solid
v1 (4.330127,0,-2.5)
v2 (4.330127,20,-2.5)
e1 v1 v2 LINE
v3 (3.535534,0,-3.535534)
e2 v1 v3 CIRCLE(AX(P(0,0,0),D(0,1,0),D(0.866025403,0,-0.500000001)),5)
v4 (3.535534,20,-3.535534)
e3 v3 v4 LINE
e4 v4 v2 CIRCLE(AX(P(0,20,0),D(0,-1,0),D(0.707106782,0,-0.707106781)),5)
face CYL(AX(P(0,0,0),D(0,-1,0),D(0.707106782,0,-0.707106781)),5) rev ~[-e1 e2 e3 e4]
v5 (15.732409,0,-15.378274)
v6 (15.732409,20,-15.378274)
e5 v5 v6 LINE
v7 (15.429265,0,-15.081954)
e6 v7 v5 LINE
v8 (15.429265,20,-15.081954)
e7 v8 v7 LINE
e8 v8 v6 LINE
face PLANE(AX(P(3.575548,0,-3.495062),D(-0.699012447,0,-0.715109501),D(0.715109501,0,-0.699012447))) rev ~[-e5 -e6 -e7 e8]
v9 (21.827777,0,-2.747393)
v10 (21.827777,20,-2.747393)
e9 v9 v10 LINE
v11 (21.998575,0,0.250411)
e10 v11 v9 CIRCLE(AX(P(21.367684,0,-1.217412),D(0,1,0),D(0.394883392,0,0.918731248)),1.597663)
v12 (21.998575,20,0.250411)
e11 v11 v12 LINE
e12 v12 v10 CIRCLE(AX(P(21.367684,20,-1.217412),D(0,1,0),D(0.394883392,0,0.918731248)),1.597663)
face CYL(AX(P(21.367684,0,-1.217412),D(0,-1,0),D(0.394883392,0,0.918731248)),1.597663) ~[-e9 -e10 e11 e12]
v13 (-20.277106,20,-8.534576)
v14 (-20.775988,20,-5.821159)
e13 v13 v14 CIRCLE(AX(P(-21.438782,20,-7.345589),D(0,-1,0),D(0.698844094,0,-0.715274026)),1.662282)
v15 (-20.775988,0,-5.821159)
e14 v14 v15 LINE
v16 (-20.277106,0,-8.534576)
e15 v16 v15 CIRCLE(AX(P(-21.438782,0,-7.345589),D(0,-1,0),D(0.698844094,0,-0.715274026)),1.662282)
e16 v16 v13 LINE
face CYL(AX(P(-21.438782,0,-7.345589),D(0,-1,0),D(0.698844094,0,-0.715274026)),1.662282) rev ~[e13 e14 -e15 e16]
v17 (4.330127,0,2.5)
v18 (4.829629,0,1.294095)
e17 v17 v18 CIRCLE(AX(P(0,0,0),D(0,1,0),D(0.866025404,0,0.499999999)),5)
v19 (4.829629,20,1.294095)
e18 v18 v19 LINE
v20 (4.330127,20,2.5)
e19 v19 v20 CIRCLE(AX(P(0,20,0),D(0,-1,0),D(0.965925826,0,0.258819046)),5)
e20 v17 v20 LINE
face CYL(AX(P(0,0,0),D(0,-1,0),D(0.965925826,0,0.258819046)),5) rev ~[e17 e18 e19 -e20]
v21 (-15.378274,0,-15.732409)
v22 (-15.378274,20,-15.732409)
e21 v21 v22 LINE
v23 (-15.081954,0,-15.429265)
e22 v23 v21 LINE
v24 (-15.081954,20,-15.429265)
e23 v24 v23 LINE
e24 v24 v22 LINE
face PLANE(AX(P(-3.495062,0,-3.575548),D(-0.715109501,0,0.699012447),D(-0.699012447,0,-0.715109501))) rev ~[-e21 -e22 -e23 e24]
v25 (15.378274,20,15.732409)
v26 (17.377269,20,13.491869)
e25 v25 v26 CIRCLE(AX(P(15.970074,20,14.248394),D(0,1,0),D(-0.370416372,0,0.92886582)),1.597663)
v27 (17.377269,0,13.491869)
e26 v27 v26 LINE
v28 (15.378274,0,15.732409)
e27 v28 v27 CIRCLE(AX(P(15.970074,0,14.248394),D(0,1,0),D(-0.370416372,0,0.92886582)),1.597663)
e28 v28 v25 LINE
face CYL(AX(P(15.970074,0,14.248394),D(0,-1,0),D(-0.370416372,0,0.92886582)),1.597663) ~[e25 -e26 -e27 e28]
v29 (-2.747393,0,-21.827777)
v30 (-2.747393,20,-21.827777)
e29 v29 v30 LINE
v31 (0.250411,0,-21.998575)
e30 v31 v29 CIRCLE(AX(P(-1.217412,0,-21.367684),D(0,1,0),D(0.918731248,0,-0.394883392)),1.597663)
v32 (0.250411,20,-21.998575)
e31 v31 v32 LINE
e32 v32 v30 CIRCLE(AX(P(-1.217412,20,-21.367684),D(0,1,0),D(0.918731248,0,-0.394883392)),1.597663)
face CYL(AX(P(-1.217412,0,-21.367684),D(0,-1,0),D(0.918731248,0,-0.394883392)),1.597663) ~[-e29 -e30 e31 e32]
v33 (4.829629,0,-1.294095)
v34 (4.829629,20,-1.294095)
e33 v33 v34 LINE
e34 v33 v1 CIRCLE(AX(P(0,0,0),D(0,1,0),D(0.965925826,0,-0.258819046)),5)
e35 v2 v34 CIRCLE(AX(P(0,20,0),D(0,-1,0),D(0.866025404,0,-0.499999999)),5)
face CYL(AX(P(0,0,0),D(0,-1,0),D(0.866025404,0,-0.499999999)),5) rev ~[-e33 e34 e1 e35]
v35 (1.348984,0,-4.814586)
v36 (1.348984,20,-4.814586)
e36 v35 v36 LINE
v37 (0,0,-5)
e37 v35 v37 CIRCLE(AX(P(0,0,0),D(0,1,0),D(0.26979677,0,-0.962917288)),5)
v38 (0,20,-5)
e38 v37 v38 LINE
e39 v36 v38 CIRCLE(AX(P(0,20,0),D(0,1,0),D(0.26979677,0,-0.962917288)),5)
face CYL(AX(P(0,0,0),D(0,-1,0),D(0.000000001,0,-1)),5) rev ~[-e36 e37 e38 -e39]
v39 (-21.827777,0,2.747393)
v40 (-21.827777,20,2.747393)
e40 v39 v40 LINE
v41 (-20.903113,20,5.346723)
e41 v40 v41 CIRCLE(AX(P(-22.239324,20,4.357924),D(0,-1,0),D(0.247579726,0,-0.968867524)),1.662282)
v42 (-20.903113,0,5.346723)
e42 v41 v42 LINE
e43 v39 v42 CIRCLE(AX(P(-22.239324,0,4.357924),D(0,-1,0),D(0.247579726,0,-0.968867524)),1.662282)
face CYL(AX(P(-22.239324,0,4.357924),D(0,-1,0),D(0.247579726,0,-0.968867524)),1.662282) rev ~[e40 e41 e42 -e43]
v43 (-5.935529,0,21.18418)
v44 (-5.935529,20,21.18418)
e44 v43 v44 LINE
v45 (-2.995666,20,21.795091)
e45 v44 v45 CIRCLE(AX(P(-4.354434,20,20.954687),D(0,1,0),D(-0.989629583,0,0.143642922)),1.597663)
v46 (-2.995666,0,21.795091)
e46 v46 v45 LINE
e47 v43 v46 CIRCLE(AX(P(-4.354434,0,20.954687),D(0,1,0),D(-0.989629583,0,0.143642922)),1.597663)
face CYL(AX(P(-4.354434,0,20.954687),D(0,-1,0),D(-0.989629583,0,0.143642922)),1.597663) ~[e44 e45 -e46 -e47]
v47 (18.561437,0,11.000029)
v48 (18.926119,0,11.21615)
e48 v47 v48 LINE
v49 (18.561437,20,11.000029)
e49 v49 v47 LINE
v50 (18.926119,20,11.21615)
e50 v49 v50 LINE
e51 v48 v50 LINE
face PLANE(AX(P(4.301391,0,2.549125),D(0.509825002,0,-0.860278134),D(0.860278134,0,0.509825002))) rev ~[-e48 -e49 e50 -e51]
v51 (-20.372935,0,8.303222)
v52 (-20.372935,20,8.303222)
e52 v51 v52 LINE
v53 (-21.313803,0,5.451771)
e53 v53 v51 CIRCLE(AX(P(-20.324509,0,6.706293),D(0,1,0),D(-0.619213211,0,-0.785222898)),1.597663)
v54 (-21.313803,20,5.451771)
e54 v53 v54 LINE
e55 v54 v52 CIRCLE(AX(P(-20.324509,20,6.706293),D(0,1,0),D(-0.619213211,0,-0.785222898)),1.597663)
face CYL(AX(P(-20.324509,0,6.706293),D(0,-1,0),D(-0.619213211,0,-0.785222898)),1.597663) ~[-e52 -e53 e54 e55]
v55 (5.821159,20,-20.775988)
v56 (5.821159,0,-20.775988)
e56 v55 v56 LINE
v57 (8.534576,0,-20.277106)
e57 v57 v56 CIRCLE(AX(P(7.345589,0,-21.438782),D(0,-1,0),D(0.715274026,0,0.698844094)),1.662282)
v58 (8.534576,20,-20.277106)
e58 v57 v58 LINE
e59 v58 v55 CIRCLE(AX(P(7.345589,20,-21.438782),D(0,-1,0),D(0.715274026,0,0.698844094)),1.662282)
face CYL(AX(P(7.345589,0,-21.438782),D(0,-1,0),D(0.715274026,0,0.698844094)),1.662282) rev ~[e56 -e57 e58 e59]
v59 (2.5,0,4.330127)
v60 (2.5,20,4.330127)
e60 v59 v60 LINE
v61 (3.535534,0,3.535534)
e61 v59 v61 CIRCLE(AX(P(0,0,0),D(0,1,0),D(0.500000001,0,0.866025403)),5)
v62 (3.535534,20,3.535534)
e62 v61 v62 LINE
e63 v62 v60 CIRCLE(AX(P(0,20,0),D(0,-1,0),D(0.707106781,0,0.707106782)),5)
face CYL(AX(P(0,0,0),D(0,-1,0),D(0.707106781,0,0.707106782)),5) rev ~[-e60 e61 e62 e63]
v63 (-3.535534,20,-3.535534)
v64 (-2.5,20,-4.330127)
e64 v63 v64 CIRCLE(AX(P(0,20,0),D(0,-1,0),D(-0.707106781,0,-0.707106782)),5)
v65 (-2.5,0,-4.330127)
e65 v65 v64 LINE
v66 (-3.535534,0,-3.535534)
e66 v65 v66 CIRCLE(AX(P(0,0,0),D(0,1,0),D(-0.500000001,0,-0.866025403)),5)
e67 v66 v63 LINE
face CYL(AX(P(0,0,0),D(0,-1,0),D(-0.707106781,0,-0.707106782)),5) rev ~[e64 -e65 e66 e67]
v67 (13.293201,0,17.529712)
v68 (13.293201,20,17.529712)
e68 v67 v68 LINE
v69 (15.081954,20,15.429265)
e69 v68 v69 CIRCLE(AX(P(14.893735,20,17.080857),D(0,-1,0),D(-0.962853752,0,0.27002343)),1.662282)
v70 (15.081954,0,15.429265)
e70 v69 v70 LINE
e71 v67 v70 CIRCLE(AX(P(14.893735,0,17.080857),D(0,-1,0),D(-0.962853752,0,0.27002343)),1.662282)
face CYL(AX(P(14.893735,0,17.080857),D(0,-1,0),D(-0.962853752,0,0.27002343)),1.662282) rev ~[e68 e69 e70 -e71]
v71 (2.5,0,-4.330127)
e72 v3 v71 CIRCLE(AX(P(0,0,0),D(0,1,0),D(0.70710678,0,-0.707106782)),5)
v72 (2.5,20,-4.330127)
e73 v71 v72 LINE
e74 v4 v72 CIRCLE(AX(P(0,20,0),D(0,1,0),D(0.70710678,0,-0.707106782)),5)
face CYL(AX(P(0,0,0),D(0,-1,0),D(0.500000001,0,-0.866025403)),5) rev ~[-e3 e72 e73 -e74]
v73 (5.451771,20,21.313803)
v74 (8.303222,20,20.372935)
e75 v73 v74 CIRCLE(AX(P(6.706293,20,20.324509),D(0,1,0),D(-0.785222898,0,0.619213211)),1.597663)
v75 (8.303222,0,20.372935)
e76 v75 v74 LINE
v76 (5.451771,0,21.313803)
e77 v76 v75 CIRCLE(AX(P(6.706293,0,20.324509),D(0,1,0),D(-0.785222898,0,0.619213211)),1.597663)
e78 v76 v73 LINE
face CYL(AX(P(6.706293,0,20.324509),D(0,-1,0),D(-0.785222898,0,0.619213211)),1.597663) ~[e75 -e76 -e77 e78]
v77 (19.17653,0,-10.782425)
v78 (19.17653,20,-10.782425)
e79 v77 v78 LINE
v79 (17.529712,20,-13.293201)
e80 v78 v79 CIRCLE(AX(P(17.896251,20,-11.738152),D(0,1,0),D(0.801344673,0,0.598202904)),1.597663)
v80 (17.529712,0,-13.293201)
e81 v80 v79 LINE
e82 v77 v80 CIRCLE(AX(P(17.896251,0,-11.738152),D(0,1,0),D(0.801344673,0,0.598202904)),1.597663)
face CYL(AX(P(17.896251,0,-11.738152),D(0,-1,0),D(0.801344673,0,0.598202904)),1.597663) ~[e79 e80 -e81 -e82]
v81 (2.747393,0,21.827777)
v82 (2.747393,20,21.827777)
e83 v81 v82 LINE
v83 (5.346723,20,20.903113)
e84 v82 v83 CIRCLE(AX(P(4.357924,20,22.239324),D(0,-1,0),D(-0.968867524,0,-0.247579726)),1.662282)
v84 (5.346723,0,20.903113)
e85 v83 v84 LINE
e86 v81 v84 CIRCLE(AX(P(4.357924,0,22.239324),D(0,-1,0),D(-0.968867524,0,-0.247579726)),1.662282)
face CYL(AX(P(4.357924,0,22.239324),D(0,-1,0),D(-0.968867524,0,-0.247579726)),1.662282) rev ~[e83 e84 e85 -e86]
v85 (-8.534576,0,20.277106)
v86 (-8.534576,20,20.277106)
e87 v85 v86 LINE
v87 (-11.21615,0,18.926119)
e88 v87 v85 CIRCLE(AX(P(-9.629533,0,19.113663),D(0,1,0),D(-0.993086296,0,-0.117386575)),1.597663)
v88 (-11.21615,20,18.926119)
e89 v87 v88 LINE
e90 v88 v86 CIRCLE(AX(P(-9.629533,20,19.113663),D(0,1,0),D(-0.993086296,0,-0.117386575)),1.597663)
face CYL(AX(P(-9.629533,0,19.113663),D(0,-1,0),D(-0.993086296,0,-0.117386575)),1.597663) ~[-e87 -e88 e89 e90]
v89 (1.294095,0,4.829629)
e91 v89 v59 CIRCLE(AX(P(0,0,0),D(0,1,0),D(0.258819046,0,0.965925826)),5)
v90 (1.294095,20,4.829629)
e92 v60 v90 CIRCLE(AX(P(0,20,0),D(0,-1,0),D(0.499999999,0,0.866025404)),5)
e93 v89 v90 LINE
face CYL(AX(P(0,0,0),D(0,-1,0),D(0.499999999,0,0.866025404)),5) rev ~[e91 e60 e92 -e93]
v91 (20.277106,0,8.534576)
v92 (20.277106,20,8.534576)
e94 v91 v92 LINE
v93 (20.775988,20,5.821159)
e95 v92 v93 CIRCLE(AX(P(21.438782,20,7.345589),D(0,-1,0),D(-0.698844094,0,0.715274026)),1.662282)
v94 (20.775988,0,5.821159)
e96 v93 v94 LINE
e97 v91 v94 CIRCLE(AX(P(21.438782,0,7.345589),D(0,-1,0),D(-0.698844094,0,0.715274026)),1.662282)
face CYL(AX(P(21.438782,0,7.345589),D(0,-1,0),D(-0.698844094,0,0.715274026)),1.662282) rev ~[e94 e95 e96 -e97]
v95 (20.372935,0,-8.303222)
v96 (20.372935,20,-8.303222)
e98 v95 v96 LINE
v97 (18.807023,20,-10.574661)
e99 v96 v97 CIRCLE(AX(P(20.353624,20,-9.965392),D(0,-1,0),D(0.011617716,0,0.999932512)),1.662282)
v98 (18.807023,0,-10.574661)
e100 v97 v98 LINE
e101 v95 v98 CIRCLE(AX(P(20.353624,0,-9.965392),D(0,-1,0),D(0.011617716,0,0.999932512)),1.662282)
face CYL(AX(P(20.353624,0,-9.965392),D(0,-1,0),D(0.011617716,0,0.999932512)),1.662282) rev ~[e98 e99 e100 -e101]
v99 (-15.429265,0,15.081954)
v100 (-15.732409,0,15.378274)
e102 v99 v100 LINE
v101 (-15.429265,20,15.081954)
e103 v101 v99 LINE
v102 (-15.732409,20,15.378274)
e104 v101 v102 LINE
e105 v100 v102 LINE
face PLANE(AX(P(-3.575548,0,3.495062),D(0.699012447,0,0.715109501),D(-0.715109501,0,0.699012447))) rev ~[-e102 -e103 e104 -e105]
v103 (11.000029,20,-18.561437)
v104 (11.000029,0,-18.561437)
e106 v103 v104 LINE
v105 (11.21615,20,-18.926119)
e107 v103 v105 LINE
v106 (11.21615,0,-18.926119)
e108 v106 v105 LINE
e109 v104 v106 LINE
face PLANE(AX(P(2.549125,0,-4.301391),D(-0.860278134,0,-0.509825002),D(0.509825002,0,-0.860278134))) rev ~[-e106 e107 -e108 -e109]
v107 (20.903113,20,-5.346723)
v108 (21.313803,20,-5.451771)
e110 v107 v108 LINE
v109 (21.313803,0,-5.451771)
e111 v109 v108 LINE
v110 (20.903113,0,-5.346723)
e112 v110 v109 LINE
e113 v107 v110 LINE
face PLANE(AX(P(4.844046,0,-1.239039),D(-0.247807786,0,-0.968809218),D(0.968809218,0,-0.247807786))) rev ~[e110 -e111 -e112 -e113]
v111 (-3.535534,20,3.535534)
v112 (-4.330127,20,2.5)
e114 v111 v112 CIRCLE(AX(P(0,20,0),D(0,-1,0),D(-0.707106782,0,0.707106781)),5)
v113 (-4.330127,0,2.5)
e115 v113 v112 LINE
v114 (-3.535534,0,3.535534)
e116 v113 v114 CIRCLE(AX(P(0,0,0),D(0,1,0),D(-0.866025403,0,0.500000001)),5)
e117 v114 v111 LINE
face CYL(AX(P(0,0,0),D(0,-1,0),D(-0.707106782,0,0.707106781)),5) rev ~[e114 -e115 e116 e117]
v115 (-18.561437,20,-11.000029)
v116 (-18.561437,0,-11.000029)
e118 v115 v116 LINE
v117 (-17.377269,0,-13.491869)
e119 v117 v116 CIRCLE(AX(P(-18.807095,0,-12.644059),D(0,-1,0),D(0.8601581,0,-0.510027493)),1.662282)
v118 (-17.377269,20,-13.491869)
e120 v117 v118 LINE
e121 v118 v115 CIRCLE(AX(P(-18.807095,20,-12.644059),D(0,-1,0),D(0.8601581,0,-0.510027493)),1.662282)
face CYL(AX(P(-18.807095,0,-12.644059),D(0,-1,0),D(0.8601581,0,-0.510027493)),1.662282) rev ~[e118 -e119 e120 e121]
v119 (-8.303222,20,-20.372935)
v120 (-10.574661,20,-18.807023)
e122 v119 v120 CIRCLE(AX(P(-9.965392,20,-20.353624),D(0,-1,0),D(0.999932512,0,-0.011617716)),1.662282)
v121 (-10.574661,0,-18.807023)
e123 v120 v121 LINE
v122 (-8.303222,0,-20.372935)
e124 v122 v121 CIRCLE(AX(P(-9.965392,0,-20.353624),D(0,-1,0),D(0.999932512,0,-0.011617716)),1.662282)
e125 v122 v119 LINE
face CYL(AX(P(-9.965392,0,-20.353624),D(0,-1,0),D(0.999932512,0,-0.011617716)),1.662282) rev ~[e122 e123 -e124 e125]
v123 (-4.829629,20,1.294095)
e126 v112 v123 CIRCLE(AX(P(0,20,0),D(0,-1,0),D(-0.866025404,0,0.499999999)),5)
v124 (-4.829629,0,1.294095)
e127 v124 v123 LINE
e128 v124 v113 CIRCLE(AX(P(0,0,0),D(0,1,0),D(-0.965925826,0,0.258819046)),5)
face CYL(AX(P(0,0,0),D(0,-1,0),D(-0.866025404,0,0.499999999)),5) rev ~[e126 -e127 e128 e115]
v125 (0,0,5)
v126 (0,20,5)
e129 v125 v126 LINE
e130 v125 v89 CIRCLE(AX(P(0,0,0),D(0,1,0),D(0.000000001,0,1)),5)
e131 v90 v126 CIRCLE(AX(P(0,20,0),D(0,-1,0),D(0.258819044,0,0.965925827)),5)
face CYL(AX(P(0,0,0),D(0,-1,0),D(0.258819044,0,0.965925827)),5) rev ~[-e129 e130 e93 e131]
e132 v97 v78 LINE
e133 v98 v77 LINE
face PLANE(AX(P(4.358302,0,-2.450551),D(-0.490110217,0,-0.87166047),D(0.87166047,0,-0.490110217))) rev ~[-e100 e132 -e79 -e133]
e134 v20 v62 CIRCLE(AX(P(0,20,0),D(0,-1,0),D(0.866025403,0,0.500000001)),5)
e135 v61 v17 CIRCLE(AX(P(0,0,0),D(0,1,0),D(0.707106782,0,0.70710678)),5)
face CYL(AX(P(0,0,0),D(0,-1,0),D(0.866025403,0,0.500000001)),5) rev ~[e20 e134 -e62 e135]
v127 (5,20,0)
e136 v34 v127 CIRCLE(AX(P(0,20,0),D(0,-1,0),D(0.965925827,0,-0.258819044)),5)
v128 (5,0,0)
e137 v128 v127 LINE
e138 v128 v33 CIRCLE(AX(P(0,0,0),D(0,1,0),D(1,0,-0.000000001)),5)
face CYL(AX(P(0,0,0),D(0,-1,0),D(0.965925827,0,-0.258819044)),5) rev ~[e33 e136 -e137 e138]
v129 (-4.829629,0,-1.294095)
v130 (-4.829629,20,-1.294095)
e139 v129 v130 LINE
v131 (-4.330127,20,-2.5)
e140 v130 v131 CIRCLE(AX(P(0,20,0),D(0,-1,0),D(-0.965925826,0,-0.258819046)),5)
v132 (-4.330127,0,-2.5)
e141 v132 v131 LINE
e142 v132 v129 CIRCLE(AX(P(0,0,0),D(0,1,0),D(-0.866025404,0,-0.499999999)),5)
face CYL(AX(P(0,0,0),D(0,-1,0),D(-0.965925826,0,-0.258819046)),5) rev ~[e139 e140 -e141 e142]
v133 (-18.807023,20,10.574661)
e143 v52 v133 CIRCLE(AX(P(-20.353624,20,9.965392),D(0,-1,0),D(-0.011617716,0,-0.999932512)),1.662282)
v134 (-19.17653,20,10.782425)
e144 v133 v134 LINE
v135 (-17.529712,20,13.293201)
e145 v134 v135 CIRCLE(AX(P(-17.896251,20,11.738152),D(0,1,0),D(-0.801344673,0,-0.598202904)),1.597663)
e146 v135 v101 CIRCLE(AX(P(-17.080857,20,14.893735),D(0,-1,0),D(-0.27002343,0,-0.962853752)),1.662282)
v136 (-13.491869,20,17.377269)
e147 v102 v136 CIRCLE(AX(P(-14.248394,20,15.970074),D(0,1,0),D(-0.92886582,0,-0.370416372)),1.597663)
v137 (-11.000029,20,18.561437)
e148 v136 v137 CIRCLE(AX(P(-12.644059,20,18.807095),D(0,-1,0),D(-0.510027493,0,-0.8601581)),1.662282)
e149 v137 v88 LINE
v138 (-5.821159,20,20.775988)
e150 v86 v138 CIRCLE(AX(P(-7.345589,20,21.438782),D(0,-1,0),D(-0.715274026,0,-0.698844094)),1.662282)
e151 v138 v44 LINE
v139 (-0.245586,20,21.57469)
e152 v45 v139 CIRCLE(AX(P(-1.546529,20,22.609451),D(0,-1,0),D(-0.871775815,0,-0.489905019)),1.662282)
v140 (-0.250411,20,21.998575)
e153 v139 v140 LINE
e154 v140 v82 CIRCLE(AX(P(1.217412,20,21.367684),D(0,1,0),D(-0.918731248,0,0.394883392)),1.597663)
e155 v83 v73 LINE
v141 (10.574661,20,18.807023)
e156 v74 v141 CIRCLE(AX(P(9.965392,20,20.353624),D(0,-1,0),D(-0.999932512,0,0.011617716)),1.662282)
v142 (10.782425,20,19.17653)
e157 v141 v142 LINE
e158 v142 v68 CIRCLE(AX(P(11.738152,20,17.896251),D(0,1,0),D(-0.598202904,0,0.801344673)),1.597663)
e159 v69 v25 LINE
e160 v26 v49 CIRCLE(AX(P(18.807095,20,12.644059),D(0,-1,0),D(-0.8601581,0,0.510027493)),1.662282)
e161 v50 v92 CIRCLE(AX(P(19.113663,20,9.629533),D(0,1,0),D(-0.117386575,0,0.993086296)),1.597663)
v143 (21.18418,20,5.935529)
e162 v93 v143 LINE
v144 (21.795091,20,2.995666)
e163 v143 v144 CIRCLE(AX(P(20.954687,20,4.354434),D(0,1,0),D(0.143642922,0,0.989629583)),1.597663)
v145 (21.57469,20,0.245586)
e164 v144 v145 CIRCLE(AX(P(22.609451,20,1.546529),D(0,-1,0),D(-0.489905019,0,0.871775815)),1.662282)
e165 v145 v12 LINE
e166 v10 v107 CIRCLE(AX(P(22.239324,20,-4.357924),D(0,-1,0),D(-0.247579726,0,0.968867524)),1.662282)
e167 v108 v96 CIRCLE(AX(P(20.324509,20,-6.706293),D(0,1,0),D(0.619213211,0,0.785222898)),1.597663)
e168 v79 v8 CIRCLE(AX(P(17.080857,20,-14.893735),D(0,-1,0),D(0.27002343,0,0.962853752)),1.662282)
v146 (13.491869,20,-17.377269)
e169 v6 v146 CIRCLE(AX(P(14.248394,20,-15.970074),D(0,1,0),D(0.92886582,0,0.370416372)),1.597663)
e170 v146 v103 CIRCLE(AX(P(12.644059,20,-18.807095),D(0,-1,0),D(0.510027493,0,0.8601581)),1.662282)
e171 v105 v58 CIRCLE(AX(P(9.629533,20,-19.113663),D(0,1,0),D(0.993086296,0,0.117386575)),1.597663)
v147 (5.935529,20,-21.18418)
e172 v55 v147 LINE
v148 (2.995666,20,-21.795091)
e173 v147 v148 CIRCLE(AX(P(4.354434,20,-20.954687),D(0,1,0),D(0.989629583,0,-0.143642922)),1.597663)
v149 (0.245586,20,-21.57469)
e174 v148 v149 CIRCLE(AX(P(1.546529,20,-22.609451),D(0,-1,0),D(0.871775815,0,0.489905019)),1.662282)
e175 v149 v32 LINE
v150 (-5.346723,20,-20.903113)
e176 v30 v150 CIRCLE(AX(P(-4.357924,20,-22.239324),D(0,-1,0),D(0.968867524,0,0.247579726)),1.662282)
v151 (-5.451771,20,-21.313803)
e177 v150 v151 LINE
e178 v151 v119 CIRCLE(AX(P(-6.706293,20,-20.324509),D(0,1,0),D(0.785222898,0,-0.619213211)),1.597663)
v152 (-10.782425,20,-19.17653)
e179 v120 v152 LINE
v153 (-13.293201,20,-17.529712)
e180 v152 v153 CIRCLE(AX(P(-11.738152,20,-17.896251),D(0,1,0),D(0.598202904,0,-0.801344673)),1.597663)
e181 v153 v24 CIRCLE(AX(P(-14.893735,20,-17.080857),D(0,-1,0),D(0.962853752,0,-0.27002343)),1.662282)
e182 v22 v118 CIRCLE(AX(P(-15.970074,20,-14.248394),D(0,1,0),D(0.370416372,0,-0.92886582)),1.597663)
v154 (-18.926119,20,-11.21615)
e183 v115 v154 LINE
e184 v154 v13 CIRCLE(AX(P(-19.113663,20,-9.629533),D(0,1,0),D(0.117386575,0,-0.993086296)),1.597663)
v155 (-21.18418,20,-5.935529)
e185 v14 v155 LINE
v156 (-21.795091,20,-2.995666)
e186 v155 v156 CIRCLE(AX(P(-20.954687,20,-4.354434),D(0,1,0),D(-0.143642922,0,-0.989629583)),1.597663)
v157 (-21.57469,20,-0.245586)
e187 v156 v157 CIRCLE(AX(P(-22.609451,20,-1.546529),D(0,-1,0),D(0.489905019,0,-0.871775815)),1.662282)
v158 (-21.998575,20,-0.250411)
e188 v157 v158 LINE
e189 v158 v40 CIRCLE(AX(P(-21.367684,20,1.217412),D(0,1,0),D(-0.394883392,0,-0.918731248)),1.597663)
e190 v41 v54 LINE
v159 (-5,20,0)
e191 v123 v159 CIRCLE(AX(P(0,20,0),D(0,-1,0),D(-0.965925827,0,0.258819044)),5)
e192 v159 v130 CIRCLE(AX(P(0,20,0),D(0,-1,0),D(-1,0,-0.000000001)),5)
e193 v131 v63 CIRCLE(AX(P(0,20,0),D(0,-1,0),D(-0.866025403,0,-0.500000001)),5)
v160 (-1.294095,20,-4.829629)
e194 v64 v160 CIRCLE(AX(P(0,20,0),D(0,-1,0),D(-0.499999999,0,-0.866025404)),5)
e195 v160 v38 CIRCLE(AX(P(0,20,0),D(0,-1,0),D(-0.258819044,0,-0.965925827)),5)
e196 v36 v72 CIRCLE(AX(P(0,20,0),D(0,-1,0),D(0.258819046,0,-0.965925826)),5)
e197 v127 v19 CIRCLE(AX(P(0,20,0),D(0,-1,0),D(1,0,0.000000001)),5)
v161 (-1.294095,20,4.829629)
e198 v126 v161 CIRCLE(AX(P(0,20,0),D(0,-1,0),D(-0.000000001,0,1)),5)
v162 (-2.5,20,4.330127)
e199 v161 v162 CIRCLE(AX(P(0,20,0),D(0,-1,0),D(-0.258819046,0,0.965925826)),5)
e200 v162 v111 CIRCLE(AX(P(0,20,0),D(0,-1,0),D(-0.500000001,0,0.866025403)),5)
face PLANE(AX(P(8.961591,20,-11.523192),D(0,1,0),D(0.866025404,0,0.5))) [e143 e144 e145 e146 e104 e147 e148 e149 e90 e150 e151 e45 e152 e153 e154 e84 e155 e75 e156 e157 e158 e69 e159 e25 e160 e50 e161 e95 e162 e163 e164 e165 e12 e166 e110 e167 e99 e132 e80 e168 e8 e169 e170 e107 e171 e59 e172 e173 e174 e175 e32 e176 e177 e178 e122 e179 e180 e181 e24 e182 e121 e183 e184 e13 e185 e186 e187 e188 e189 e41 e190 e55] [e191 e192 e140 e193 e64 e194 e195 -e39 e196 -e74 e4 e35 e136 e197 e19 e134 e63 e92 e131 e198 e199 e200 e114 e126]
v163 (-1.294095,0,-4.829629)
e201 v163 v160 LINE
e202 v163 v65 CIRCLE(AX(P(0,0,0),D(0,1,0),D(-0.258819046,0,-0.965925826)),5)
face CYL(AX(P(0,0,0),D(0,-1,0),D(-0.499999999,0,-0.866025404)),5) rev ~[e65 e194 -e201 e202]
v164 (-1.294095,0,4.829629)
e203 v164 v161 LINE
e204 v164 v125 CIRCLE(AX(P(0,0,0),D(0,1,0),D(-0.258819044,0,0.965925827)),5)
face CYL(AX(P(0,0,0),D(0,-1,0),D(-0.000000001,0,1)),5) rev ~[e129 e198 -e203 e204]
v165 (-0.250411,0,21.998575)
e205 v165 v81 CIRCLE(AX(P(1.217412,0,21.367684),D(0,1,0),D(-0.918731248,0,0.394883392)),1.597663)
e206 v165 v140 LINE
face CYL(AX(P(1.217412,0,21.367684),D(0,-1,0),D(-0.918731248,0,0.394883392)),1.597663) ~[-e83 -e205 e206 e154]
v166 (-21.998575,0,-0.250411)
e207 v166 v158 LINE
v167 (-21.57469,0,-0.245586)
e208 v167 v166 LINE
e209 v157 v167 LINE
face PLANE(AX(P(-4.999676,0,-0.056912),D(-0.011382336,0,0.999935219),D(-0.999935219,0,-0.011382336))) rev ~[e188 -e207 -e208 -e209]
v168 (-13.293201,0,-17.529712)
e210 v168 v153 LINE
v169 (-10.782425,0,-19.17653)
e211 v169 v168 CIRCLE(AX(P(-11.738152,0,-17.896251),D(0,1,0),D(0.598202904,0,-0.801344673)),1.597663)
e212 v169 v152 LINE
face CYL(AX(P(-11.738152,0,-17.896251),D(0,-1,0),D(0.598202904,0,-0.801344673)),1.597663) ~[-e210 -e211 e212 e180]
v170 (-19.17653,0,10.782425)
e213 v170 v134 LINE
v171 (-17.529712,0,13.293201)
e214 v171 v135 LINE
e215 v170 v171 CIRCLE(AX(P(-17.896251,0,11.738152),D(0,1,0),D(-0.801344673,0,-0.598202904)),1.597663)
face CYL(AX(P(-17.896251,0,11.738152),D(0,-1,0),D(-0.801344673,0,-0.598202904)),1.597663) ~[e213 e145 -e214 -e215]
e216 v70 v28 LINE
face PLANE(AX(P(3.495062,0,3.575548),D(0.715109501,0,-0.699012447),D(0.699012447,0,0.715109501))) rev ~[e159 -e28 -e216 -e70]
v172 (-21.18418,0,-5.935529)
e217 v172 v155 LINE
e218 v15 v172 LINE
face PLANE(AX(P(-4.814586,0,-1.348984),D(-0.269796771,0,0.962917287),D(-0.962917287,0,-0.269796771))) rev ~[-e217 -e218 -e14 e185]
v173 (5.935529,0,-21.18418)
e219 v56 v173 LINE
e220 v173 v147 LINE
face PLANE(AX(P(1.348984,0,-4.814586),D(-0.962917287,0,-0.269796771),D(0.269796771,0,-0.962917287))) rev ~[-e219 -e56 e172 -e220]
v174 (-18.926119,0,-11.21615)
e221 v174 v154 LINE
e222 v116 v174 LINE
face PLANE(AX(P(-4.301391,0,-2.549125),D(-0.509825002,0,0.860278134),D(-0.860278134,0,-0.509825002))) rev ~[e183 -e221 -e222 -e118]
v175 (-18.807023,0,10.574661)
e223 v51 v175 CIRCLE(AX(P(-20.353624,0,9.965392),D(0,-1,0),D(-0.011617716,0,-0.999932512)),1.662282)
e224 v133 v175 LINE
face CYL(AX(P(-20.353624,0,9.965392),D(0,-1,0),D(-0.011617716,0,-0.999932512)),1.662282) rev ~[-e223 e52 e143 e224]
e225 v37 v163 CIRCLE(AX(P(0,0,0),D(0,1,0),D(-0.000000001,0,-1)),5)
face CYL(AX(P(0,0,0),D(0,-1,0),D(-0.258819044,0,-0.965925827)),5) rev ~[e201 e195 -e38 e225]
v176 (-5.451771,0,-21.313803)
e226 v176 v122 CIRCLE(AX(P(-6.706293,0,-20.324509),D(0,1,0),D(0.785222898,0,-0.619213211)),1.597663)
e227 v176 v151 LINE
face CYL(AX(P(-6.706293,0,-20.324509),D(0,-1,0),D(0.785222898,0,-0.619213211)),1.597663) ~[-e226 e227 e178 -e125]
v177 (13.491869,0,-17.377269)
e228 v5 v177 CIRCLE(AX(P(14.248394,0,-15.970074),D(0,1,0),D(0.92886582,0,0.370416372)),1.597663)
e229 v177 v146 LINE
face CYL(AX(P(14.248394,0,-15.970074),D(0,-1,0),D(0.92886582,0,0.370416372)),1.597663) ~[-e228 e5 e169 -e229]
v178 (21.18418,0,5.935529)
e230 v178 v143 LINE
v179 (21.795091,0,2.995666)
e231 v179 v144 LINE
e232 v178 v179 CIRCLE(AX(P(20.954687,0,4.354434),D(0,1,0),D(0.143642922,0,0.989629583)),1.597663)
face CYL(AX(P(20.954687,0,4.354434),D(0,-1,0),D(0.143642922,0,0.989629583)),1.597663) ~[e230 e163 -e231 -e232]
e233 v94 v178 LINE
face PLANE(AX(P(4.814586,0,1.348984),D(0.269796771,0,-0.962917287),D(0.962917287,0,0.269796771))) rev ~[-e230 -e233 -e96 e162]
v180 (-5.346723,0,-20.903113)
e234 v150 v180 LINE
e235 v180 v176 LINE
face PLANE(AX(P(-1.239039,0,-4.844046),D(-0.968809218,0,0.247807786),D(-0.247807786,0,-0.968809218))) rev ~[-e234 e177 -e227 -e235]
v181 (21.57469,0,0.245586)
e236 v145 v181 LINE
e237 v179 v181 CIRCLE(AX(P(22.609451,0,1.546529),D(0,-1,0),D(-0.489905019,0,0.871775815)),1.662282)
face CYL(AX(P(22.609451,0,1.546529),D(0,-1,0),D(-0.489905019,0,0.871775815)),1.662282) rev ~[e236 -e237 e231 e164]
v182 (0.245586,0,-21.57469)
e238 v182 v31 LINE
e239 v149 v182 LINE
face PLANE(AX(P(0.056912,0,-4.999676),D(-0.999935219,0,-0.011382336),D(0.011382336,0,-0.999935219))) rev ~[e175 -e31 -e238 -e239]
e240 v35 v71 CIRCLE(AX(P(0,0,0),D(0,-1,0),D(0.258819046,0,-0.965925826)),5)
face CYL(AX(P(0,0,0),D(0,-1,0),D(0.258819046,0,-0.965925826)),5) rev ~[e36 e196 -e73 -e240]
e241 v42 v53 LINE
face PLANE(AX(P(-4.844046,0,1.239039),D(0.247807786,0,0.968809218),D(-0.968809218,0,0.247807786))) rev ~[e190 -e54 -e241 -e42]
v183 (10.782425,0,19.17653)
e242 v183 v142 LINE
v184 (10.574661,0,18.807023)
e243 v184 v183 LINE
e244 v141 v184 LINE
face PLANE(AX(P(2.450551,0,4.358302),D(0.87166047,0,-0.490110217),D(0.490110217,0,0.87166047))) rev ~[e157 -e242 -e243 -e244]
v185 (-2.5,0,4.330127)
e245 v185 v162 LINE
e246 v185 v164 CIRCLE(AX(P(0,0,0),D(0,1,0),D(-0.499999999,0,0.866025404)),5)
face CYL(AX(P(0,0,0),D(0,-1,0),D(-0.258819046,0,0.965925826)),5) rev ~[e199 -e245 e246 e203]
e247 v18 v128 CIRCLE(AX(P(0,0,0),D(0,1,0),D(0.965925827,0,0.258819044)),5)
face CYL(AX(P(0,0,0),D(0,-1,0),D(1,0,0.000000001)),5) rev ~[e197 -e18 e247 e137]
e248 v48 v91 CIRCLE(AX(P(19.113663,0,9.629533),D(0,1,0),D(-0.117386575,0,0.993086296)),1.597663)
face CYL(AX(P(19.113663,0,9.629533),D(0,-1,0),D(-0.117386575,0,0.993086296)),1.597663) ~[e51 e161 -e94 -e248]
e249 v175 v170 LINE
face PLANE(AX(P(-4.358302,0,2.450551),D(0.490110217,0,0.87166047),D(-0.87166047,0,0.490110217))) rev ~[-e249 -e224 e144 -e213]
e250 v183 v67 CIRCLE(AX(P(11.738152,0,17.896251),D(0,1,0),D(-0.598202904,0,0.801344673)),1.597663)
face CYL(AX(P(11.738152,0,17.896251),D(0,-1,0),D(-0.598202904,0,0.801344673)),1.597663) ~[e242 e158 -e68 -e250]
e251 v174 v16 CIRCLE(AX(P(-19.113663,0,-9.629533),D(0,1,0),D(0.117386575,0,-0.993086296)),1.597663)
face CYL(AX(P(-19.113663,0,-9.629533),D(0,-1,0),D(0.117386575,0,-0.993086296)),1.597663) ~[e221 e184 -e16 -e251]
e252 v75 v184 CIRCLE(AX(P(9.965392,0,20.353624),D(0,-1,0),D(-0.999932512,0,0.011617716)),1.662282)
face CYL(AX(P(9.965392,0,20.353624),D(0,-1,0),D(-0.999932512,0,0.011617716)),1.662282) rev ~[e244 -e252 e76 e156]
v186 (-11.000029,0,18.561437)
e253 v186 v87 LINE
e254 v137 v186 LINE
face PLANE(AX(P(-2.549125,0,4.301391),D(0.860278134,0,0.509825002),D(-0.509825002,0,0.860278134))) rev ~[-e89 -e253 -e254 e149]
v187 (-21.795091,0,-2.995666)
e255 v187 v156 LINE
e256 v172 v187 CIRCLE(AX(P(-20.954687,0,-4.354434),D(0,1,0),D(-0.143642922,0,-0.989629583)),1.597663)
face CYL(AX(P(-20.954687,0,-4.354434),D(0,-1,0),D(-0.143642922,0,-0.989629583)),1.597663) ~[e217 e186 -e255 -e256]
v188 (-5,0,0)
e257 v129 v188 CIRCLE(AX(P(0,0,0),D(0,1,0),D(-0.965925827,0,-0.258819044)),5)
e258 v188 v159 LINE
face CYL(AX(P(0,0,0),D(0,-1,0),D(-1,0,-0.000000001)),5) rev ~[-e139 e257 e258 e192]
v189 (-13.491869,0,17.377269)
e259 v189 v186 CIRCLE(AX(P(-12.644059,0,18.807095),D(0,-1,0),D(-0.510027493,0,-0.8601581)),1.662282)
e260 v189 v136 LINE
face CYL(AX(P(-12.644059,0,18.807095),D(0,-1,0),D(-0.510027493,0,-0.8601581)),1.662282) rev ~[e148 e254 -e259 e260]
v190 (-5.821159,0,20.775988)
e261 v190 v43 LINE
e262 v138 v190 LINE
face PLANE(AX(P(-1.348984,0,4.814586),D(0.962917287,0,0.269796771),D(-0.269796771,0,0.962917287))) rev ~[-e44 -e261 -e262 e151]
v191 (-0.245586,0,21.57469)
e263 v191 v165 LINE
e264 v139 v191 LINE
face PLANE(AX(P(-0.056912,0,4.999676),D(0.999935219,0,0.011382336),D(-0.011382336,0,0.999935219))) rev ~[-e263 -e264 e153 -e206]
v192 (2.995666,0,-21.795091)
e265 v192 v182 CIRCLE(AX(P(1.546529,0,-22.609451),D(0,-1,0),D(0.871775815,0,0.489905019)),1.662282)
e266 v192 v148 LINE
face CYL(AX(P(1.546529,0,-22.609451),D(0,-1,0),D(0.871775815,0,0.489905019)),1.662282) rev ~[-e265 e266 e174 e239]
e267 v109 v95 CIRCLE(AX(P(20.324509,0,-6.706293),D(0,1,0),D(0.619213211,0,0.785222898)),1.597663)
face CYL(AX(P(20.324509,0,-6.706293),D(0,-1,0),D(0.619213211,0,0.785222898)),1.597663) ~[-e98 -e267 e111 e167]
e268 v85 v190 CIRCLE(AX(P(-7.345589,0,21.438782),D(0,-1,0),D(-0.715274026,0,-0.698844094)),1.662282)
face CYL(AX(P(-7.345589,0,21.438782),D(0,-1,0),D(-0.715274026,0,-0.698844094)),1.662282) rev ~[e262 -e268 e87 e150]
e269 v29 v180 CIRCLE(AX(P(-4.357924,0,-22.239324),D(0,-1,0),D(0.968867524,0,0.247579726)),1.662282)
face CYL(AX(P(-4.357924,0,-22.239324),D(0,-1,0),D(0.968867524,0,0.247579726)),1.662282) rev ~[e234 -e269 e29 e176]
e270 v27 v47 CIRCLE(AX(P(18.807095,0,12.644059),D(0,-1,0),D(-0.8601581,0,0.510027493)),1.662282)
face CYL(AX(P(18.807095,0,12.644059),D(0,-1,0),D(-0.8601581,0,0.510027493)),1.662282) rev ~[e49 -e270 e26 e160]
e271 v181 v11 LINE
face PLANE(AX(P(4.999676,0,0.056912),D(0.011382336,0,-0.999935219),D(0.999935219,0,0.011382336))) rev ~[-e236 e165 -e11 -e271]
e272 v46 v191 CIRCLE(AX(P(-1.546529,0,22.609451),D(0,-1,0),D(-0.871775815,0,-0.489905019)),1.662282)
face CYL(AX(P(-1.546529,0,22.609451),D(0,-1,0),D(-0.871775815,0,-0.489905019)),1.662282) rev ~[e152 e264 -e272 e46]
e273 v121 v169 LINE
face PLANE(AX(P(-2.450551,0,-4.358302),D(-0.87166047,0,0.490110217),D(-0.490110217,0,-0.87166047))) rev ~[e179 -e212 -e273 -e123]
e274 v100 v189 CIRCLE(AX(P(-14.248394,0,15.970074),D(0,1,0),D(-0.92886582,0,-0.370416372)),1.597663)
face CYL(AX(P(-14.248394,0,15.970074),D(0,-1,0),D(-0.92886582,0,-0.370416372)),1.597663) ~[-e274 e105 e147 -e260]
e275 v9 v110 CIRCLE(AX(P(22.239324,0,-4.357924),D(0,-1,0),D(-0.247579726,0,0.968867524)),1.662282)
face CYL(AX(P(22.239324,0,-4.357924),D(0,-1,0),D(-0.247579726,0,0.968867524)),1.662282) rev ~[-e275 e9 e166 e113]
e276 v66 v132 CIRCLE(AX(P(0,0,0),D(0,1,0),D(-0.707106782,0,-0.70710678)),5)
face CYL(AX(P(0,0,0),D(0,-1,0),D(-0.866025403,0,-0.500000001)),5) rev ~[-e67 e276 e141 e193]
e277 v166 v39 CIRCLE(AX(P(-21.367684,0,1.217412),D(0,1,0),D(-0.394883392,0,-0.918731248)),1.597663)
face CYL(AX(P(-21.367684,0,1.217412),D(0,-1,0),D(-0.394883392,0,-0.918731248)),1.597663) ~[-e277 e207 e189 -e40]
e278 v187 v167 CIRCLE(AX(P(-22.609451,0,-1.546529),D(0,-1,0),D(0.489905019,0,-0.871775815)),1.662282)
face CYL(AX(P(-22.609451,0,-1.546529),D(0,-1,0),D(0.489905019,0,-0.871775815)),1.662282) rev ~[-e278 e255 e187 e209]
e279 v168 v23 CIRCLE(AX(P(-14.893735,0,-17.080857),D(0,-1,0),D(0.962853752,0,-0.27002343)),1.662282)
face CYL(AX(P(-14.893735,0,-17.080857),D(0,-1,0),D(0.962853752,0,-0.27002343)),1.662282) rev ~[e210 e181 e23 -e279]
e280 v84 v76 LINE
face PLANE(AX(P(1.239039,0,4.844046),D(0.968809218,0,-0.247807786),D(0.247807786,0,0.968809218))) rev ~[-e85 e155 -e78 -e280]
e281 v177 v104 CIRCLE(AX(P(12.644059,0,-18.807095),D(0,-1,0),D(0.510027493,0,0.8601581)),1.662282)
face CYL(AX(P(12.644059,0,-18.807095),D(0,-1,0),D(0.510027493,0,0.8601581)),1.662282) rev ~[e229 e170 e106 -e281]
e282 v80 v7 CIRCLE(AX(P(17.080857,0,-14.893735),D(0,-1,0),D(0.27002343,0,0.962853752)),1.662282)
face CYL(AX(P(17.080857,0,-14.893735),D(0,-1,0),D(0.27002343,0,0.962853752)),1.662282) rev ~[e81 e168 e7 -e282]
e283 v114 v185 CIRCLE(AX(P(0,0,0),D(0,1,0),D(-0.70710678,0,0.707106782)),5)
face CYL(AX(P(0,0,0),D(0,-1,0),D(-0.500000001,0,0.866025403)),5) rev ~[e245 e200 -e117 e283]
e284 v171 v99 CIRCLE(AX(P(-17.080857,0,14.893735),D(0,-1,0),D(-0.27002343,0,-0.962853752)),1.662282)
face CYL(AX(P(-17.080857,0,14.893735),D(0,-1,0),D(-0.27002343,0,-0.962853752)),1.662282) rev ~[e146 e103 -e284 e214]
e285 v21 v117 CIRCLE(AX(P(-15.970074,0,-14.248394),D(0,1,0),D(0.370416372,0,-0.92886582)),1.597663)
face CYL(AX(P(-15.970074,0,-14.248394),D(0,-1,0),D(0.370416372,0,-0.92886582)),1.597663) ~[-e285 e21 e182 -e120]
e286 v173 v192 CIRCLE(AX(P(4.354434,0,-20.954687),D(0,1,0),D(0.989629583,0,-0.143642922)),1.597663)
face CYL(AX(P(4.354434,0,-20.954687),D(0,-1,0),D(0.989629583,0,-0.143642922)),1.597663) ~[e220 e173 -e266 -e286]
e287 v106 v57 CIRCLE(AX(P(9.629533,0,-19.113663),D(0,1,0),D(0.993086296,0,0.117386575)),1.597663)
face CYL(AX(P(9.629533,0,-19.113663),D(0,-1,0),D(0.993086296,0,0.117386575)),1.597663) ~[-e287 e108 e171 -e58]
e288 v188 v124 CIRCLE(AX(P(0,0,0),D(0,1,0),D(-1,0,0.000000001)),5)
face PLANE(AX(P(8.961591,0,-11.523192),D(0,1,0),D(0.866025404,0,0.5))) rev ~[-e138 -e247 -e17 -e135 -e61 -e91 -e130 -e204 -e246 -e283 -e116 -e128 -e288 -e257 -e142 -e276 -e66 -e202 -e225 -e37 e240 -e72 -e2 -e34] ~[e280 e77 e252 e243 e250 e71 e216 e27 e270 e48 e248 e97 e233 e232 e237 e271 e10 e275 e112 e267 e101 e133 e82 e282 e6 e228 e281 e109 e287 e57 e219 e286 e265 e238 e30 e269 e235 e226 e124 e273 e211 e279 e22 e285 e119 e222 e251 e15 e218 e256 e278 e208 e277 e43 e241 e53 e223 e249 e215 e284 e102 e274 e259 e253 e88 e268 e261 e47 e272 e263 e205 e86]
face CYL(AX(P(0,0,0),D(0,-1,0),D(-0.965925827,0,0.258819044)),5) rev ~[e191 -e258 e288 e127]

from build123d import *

# Parameters (mm, degrees)
BOSS_EXTRUDE1_DEPTH = 20
CIRPATTERN1_COUNT   = 24


with BuildPart() as part:
    # Sketch1 → Boss-Extrude1 (new body)
    with BuildSketch(Plane(origin=(0, 0, 0), x_dir=(1, 0, 0), z_dir=(0, 1, 0))):
        with BuildLine():
            Line((0, 22), (0, 5))
            ThreePointArc((0, 5), (0.680833245, 4.95342973), (1.348983856, 4.814586437))
            Line((1.348983856, 4.814586437), (5.935528965, 21.184180322))
            ThreePointArc((5.935528965, 21.184180322), (4.6794883, 22.518934017), (2.99566628, 21.795090813))
            ThreePointArc((2.99566628, 21.795090813), (1.433090681, 20.951044153), (0, 22))
        make_face()
    boss_extrude1 = extrude(amount=BOSS_EXTRUDE1_DEPTH)

    # CirPattern1: Boss-Extrude1 ×24 about axis
    cirpattern1_axis = Axis((0, 0, 0), (0, 1, 0))
    for i in range(1, CIRPATTERN1_COUNT):
        add(boss_extrude1.rotate(cirpattern1_axis, i * 360 / CIRPATTERN1_COUNT))


solid = part.part
